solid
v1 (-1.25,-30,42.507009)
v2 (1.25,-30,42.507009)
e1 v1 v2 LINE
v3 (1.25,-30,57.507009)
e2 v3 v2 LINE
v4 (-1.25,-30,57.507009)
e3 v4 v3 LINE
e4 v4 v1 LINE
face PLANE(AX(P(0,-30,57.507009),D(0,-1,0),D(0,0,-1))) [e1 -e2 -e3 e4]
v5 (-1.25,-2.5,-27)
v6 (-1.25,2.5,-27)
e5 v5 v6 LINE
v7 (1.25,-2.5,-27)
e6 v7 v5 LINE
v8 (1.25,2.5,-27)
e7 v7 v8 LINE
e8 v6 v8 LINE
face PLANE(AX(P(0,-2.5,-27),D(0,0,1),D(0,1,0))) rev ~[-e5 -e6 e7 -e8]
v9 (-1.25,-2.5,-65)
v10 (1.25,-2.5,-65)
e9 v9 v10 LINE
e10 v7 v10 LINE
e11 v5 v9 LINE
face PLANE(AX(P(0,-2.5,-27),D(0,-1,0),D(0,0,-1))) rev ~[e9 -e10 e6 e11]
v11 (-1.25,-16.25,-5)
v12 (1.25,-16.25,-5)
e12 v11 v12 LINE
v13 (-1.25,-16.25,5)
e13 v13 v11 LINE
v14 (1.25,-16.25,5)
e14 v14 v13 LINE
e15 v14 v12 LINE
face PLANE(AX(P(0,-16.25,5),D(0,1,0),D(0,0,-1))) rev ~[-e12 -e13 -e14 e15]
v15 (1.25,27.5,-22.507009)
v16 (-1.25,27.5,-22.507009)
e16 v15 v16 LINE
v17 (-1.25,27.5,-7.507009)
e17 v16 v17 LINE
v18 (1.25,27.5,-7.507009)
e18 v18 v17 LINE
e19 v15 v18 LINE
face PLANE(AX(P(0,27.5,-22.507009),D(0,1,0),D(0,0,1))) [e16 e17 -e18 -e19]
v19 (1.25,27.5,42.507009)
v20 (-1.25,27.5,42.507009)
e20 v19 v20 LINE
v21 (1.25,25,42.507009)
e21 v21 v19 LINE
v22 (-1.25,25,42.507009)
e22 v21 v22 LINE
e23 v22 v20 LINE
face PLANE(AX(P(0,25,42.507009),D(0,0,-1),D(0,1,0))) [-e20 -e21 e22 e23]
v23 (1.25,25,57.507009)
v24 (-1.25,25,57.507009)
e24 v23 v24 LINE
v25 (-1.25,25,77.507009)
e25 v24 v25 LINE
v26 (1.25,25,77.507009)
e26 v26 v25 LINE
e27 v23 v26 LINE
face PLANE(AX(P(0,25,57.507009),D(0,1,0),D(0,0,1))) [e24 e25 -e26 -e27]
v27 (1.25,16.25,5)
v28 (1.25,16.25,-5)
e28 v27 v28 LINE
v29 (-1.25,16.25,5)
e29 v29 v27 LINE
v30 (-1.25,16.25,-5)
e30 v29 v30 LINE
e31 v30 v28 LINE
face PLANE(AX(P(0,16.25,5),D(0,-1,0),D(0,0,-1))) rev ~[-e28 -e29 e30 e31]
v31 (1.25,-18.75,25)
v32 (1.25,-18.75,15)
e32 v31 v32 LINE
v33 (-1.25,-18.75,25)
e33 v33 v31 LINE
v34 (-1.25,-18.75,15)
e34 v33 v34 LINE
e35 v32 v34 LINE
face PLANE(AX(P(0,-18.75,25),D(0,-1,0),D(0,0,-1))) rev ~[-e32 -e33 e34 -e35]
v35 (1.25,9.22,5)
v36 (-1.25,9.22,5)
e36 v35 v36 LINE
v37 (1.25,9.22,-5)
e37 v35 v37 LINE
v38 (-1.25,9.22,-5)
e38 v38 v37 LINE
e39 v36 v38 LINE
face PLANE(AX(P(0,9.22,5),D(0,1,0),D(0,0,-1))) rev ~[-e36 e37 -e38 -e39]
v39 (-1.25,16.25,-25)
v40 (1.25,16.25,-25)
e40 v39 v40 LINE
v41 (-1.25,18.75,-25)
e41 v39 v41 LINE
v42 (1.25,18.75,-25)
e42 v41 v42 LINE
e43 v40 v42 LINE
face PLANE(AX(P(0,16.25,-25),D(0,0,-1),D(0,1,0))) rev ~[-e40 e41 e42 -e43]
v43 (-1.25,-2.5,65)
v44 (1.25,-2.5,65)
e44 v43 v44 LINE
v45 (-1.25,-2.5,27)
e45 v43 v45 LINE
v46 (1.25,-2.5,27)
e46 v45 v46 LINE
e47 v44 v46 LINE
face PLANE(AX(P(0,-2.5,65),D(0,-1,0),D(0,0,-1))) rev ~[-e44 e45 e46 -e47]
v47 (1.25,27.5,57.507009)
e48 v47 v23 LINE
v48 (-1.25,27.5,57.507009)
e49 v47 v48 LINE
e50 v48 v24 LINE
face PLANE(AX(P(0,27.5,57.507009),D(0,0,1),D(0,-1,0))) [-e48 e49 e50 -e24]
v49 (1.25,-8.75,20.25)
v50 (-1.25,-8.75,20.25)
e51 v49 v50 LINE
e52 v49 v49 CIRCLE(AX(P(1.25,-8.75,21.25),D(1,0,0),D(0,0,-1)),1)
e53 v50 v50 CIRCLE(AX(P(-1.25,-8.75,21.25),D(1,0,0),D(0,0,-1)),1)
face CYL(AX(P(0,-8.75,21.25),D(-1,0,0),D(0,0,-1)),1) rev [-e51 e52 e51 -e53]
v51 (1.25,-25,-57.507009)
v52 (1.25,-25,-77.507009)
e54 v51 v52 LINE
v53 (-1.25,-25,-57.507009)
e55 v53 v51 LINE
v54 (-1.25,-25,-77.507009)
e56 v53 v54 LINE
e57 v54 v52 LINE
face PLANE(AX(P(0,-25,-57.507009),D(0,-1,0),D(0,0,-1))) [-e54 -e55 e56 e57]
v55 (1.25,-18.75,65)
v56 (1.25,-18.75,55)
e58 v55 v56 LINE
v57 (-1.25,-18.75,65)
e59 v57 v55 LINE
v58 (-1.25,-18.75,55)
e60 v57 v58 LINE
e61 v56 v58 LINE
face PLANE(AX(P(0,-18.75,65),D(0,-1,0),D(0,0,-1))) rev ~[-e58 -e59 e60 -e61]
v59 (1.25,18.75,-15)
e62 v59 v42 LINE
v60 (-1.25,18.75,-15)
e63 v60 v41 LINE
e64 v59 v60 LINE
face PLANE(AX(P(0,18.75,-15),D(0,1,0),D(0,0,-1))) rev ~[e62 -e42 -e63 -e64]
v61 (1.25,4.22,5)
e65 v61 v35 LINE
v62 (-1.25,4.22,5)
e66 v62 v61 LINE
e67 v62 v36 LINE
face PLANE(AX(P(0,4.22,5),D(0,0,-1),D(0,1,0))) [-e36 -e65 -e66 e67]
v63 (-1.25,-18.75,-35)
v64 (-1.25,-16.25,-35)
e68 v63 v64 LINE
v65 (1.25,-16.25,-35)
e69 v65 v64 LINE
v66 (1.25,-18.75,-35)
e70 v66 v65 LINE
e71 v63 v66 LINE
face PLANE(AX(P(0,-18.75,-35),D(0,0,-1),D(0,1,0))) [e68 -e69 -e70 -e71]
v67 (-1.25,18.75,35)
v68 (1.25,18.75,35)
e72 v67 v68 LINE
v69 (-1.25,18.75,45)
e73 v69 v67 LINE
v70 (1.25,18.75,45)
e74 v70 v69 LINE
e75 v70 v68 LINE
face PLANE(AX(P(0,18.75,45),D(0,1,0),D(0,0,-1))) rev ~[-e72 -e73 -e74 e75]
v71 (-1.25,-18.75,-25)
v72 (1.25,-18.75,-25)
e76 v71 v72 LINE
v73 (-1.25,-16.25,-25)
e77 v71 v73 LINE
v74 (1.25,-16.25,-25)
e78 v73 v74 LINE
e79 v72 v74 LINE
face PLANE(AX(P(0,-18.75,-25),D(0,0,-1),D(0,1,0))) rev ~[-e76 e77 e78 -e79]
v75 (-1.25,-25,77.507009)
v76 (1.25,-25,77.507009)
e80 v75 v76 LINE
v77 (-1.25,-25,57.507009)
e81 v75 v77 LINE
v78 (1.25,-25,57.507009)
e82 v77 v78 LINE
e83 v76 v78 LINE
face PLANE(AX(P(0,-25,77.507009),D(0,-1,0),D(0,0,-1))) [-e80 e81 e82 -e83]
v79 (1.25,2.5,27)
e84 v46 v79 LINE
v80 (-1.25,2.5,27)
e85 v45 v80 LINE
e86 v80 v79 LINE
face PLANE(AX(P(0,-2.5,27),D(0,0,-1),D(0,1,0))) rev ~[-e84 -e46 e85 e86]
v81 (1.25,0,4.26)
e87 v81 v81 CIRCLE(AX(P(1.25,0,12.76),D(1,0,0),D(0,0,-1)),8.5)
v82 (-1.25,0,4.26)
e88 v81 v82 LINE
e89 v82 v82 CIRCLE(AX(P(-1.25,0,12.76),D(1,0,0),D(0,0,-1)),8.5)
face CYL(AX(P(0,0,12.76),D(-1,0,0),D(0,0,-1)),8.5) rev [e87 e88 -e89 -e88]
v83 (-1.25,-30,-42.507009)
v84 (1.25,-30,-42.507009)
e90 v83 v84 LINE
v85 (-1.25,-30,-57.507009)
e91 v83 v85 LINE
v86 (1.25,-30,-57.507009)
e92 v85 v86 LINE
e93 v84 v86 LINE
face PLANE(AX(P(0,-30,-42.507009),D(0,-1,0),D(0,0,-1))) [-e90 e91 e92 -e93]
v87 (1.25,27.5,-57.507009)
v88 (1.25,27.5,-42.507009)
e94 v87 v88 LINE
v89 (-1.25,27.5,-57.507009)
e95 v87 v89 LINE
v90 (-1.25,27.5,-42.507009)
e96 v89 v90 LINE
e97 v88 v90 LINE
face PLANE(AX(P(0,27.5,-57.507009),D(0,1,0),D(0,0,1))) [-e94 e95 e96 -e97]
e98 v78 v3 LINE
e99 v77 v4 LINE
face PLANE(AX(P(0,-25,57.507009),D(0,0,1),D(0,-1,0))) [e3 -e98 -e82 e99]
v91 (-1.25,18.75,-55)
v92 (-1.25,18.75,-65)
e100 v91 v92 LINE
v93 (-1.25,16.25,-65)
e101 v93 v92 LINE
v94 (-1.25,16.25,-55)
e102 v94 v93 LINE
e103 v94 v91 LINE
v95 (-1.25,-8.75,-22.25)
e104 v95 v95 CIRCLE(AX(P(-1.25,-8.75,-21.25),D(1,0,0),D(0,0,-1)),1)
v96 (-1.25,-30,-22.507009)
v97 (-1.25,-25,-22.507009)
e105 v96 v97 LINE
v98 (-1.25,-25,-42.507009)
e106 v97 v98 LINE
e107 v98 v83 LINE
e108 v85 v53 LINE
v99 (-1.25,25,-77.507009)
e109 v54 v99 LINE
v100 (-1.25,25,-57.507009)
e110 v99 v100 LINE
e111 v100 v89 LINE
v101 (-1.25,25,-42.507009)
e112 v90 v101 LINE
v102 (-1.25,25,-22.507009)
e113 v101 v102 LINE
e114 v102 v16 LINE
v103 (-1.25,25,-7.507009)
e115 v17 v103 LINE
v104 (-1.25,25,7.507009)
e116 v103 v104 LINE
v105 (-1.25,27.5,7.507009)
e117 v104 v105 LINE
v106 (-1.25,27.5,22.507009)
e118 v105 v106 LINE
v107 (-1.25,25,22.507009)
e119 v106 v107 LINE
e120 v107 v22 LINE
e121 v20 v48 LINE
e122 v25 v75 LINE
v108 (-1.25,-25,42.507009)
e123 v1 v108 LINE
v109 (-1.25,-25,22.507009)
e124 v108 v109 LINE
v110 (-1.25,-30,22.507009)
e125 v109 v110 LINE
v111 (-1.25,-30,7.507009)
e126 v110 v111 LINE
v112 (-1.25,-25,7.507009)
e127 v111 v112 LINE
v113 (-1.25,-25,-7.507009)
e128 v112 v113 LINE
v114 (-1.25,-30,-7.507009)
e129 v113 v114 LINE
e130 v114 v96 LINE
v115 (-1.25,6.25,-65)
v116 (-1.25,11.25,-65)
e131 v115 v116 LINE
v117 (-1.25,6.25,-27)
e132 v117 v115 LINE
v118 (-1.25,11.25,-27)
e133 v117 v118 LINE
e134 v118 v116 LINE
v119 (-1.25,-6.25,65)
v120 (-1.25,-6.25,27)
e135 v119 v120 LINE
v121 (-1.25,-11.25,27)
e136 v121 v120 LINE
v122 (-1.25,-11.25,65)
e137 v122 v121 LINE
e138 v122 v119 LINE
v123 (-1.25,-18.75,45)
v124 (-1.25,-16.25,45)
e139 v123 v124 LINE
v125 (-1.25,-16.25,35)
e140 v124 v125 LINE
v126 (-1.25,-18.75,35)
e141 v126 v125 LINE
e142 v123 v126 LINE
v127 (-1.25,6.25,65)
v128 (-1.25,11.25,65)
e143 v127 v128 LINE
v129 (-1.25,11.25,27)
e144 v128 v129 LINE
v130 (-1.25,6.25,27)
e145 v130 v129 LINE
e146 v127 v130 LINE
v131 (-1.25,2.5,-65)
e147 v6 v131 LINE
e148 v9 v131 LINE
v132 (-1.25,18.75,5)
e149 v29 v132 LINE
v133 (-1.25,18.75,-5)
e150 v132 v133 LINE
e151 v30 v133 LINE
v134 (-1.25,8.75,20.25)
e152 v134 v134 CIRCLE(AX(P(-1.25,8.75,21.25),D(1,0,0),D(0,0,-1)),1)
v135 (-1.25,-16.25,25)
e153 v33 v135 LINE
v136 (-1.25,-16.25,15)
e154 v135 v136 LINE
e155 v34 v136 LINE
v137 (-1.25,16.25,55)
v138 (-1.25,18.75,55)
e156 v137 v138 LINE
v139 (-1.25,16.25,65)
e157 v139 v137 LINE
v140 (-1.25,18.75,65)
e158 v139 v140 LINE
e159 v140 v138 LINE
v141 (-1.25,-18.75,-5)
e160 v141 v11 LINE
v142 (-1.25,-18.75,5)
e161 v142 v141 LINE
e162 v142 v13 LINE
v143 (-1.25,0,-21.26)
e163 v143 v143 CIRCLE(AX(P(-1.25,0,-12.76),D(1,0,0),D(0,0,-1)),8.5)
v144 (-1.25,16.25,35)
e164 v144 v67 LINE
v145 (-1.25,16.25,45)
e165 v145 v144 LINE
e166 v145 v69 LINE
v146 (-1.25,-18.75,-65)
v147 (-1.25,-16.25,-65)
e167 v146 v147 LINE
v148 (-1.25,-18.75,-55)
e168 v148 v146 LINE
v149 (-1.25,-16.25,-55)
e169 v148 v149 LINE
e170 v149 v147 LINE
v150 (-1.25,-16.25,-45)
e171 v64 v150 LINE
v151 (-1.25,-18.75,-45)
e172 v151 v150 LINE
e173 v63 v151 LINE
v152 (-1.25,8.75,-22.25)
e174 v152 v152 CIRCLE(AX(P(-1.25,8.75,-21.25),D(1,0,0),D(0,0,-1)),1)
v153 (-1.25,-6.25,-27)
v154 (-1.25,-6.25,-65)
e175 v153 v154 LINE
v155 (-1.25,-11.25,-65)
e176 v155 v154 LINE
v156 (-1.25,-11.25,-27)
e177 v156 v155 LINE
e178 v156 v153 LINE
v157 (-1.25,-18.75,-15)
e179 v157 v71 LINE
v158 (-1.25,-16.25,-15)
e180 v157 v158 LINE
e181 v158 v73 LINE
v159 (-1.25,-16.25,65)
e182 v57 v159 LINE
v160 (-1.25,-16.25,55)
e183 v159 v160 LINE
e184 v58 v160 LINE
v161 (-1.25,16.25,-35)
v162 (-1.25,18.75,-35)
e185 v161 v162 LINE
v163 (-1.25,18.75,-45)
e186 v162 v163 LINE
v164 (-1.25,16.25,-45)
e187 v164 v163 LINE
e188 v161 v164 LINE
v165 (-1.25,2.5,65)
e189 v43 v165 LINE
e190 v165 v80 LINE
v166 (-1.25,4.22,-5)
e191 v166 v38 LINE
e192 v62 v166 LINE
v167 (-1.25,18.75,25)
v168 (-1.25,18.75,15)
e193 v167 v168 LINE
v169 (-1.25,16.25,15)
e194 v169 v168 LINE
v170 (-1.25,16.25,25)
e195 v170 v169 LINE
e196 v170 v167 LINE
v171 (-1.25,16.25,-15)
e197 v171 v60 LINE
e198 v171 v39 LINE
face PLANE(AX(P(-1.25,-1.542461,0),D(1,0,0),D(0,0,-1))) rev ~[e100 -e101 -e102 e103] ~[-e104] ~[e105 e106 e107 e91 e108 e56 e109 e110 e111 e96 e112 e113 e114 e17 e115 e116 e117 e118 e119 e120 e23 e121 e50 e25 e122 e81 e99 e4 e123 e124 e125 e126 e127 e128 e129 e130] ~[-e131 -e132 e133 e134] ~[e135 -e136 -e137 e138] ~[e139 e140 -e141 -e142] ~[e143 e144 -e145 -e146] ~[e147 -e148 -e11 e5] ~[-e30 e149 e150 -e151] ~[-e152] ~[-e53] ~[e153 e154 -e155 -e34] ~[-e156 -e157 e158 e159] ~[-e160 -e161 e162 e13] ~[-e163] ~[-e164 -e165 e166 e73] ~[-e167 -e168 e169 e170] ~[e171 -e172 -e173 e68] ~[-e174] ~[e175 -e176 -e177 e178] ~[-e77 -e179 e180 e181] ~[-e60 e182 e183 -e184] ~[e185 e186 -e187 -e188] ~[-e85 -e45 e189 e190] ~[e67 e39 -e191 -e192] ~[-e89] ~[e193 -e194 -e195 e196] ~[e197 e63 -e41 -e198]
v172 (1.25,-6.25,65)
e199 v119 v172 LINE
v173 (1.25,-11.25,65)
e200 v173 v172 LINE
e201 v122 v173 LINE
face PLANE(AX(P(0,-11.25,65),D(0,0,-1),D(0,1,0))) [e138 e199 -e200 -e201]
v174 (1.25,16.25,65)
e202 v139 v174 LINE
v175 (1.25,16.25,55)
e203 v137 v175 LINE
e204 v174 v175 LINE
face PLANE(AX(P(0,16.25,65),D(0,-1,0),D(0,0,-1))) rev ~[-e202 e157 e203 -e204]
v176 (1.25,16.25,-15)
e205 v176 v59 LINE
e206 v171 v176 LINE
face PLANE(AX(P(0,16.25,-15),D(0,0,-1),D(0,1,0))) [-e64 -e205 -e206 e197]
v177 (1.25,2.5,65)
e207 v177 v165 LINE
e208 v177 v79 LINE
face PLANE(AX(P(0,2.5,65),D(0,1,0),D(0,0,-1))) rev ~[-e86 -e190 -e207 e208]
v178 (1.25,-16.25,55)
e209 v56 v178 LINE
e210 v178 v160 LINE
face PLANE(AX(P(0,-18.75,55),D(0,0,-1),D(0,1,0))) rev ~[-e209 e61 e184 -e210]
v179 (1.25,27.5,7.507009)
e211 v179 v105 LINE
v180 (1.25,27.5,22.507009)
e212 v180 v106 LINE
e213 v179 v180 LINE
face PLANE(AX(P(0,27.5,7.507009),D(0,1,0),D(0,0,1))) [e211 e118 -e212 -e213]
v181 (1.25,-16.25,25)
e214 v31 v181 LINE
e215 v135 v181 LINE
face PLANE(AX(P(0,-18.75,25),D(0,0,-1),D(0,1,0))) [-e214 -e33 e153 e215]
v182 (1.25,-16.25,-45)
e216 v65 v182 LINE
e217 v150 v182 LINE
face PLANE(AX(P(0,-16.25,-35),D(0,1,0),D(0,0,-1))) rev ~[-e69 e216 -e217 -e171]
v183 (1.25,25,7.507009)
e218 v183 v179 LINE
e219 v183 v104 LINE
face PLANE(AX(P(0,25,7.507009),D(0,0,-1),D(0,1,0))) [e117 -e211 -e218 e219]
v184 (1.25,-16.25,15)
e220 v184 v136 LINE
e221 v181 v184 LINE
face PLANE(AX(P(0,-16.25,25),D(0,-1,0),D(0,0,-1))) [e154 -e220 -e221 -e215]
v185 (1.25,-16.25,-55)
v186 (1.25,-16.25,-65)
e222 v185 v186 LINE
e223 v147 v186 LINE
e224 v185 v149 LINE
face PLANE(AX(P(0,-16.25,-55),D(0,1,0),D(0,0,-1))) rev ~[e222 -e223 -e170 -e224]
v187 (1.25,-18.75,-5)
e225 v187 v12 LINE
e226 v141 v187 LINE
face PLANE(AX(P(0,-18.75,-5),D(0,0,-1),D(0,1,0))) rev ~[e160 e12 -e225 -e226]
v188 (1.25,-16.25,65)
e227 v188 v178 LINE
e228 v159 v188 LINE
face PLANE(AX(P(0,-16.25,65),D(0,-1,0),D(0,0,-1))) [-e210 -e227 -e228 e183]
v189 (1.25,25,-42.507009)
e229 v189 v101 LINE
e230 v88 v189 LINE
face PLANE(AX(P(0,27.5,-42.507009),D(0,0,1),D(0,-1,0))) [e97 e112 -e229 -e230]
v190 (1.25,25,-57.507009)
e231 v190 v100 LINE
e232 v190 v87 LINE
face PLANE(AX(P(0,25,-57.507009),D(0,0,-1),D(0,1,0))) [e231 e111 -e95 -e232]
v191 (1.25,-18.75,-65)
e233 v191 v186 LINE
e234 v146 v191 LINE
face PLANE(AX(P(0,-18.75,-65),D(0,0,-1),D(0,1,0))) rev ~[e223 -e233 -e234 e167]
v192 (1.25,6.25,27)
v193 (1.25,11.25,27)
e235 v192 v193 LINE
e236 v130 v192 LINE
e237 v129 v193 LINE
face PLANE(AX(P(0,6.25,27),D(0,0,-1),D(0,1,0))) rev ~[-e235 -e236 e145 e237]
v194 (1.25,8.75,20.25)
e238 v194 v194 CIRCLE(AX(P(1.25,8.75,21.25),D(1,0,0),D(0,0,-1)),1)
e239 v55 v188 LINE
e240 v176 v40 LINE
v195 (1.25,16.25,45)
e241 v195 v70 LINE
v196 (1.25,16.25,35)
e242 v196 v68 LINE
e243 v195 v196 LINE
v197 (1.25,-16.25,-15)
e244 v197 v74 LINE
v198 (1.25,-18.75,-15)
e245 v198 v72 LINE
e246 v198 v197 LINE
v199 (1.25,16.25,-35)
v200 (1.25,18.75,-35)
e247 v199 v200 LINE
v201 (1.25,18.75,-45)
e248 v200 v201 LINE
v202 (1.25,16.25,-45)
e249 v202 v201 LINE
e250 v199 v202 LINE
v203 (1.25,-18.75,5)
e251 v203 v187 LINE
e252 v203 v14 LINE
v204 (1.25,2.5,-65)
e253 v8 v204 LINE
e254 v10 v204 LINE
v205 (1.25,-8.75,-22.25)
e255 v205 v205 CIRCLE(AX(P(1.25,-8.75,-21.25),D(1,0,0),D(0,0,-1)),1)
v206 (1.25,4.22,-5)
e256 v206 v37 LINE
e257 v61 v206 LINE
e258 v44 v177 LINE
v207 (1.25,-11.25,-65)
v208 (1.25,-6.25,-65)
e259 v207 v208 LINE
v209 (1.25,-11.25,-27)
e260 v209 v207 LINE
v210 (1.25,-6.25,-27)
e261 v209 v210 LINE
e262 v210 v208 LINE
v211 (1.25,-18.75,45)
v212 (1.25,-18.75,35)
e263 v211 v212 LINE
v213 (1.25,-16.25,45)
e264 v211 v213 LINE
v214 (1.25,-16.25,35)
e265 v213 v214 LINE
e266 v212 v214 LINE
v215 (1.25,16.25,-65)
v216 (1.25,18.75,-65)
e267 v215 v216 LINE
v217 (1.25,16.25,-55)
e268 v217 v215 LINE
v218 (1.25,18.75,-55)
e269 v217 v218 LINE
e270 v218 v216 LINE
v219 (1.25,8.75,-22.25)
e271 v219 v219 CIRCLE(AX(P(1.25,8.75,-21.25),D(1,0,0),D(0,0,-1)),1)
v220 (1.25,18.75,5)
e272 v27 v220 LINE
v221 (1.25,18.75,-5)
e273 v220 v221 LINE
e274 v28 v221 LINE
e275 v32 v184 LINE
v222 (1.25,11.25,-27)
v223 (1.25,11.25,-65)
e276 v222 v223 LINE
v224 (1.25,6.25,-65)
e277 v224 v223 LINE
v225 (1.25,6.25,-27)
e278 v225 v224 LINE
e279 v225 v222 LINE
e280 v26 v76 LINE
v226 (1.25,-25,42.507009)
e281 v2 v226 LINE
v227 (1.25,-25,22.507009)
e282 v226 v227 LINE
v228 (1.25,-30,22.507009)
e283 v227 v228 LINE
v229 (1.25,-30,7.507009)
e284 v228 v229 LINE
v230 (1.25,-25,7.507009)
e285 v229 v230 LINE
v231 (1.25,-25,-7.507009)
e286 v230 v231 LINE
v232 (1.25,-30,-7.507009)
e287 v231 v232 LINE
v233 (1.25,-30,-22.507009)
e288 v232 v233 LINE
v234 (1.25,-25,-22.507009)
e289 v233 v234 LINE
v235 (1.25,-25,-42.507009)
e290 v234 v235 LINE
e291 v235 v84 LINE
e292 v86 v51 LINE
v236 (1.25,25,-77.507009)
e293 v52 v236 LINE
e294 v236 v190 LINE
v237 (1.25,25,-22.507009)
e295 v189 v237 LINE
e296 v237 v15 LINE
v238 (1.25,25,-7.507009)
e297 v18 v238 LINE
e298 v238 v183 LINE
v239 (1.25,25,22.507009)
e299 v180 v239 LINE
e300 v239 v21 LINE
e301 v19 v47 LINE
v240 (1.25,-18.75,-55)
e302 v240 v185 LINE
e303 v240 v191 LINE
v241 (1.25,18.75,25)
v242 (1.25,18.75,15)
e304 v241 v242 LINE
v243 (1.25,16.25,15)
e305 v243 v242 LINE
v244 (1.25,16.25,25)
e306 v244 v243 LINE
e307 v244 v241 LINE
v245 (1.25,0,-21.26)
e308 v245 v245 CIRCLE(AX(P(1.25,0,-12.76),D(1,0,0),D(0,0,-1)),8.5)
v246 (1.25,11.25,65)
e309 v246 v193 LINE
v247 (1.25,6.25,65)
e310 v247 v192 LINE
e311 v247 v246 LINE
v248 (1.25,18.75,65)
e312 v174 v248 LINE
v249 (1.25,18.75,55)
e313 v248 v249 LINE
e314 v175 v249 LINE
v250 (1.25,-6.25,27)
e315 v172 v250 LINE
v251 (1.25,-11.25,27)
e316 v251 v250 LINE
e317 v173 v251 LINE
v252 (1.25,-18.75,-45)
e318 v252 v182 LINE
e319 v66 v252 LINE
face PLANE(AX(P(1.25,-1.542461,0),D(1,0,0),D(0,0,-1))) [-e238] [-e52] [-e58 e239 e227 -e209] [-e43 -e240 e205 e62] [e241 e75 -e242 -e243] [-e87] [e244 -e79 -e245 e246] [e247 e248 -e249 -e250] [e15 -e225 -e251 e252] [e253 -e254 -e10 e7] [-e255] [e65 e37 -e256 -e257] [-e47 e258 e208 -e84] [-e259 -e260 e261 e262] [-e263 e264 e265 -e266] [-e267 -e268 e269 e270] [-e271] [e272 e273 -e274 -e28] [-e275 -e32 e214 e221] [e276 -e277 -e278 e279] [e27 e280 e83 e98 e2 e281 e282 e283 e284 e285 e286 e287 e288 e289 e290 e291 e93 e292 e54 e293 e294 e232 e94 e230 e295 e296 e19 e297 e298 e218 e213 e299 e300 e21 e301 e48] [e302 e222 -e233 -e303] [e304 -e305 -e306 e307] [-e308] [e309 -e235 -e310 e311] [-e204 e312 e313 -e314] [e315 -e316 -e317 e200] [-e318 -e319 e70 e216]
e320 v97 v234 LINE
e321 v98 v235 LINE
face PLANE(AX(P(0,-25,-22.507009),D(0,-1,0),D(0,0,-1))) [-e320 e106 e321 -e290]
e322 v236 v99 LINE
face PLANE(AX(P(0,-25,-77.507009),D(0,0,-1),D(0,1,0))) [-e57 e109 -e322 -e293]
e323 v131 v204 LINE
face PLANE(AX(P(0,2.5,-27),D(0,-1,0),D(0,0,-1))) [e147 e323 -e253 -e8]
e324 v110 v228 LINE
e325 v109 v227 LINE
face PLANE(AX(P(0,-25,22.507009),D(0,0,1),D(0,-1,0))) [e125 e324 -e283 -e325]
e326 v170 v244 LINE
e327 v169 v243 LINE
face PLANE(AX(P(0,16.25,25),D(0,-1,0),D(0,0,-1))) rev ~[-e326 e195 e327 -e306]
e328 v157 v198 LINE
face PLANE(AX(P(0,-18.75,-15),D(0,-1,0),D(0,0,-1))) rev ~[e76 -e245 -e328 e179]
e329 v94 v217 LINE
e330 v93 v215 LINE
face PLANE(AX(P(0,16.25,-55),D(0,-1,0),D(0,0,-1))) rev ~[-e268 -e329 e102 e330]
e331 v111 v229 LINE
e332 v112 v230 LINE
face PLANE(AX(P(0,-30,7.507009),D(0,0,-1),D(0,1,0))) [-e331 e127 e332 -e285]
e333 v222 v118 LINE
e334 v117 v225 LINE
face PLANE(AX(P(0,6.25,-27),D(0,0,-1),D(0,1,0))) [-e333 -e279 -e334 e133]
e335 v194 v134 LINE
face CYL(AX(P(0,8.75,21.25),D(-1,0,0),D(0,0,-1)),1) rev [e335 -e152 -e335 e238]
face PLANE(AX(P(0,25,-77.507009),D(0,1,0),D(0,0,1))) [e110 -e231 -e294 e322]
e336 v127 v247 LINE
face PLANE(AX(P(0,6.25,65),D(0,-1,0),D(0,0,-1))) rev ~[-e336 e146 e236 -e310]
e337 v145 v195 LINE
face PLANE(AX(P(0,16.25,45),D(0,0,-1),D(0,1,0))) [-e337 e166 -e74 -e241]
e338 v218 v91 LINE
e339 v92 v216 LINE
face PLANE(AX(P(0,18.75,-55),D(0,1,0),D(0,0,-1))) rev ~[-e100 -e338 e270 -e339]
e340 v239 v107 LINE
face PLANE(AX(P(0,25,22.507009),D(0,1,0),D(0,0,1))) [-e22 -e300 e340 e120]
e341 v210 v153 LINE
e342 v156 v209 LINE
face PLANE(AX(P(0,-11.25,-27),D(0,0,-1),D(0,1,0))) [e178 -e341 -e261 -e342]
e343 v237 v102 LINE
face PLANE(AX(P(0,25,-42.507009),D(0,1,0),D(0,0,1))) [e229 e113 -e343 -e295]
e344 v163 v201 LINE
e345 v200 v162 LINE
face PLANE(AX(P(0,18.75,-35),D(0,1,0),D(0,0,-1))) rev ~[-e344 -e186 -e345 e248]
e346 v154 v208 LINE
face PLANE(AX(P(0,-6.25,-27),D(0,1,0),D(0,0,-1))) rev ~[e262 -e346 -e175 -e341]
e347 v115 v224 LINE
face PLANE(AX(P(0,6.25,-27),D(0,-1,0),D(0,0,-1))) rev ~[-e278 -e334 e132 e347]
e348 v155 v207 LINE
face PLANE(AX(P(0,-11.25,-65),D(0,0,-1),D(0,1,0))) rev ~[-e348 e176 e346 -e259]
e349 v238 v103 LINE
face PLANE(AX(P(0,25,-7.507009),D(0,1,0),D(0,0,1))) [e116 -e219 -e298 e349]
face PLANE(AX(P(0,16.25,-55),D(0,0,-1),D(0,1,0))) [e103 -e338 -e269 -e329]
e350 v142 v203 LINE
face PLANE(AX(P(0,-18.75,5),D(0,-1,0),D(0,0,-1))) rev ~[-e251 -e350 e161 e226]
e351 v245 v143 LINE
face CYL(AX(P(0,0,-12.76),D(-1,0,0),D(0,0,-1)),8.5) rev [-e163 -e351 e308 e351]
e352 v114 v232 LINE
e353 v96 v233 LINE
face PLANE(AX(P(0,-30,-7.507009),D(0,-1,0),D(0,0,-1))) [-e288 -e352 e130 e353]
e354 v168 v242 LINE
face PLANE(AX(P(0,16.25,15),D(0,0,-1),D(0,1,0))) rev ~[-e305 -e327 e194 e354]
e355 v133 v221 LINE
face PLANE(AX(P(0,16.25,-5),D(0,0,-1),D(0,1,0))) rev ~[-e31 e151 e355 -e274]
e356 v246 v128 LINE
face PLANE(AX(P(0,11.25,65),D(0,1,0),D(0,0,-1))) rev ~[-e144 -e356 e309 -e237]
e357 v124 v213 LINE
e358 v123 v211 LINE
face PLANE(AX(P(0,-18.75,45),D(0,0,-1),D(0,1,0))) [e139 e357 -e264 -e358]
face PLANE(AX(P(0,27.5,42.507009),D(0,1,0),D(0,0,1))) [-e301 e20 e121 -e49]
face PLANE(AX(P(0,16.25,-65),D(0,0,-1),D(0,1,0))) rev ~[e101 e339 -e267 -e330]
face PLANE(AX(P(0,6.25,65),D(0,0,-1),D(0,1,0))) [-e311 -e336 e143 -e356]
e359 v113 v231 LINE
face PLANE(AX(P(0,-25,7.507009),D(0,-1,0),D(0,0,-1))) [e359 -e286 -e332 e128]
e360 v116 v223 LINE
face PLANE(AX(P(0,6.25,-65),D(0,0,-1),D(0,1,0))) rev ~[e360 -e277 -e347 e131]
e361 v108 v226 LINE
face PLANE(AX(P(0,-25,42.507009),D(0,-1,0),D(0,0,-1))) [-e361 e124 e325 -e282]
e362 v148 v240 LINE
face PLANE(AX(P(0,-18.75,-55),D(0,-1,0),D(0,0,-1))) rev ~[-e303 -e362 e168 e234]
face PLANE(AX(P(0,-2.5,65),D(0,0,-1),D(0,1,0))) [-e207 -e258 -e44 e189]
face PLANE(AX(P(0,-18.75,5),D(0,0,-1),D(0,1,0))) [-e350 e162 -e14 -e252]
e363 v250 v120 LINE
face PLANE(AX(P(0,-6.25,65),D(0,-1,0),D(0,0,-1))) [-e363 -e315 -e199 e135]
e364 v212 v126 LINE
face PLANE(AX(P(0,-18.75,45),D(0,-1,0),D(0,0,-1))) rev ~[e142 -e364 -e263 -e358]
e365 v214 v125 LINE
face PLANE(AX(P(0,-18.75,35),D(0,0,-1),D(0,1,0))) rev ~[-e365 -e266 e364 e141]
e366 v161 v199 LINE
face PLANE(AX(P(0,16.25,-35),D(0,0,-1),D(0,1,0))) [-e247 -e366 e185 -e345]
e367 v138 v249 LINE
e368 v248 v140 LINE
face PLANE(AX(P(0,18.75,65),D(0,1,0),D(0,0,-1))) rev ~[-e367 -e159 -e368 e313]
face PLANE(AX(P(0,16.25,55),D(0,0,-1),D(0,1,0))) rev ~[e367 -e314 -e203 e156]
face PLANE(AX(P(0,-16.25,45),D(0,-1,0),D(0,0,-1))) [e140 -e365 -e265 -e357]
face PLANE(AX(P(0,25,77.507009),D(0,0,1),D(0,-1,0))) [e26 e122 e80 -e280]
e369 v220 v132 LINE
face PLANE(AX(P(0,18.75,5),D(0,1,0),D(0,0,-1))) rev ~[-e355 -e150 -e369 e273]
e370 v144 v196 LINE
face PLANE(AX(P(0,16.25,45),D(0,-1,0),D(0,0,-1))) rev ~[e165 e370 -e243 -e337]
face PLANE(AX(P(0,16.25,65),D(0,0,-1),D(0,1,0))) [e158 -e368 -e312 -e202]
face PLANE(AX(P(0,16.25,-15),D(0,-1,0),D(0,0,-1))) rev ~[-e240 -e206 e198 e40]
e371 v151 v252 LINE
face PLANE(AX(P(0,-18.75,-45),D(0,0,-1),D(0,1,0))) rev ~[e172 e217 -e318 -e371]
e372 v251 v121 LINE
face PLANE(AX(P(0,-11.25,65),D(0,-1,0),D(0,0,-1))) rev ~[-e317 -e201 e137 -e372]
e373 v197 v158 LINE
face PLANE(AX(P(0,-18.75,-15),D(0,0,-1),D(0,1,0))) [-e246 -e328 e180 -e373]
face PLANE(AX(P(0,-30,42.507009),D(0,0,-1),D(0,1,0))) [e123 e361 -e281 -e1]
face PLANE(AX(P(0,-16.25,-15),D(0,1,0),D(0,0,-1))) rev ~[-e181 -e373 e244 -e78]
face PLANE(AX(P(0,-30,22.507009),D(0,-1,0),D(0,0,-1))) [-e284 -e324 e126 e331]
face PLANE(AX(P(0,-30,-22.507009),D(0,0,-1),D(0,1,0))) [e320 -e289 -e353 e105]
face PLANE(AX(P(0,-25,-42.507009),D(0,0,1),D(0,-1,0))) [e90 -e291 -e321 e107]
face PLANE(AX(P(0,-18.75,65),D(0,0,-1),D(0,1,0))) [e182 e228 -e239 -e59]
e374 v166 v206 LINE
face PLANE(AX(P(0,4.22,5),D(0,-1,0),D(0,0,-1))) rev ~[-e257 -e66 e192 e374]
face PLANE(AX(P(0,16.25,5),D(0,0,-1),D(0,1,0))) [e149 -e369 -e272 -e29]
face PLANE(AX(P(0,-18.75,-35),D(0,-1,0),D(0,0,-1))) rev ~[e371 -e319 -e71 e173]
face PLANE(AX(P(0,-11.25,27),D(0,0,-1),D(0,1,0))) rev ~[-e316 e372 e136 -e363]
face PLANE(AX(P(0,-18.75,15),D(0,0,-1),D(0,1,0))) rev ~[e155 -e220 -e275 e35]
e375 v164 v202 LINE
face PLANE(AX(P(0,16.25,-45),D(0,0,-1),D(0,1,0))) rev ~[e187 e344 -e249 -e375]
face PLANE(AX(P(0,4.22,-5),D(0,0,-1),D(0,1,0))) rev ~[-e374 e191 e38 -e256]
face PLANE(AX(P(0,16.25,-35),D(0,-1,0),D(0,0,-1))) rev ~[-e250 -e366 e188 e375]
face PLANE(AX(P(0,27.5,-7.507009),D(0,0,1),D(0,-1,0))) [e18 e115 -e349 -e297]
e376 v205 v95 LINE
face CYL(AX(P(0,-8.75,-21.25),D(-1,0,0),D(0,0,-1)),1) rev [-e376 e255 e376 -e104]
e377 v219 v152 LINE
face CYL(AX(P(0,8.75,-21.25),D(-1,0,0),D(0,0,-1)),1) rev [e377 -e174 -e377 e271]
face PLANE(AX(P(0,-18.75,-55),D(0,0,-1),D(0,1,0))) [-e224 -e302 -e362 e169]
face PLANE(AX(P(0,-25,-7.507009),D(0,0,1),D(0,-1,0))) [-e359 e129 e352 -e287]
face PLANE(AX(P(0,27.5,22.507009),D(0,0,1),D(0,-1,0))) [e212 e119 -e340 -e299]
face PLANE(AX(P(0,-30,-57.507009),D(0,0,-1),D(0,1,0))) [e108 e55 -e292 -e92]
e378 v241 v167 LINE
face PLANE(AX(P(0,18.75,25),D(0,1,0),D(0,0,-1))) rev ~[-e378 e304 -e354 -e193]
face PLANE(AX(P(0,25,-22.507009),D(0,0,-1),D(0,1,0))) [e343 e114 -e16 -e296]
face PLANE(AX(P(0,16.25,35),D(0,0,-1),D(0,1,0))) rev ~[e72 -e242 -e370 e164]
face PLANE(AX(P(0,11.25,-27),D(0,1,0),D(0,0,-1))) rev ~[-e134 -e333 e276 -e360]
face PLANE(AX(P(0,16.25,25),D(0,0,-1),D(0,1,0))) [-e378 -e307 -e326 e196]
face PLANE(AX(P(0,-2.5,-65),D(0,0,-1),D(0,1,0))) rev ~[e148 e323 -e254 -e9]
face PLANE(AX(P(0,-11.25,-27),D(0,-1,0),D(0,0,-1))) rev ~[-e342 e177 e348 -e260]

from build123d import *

# Parameters (mm, degrees)
SKETCH1_R           = 1
SKETCH1_R_2         = 8.5
SKETCH1_W           = 10
SKETCH1_H           = 2.5
SKETCH1_W_2         = 38
SKETCH1_H_2         = 5
BOSS_EXTRUDE1_DEPTH = 1.25


with BuildPart() as part:
    # Sketch1 → Boss-Extrude1 (new, symmetric)
    with BuildSketch(Plane(origin=(0, 0, 0), x_dir=(0, 0, -1), z_dir=(1, 0, 0))):
        Polygon((-77.50700933, 25), (-77.50700933, -25), (-57.50700933, -25), (-57.50700933, -30), (-42.50700933, -30), (-42.50700933, -25), (-22.50700933, -25), (-22.50700933, -30), (-7.50700933, -30), (-7.50700933, -25), (7.50700933, -25), (7.50700933, -30), (22.50700933, -30), (22.50700933, -25), (42.50700933, -25), (42.50700933, -30), (57.50700933, -30), (57.50700933, -25), (77.50700933, -25), (77.50700933, 25), (57.50700933, 25), (57.50700933, 27.5), (42.50700933, 27.5), (42.50700933, 25), (22.50700933, 25), (22.50700933, 27.5), (7.50700933, 27.5), (7.50700933, 25), (-7.50700933, 25), (-7.50700933, 27.5), (-22.50700933, 27.5), (-22.50700933, 25), (-42.50700933, 25), (-42.50700933, 27.5), (-57.50700933, 27.5), (-57.50700933, 25), align=None)
        with Locations((-21.25, 8.75)):
            Circle(SKETCH1_R, mode=Mode.SUBTRACT)
        with Locations((-12.76, 0)):
            Circle(SKETCH1_R_2, mode=Mode.SUBTRACT)
        with Locations((-21.25, -8.75)):
            Circle(SKETCH1_R, mode=Mode.SUBTRACT)
        with Locations((12.76, 0)):
            Circle(SKETCH1_R_2, mode=Mode.SUBTRACT)
        with Locations((21.25, -8.75)):
            Circle(SKETCH1_R, mode=Mode.SUBTRACT)
        with Locations((21.25, 8.75)):
            Circle(SKETCH1_R, mode=Mode.SUBTRACT)
        with Locations((0, 17.5)):
            Rectangle(SKETCH1_W, SKETCH1_H, mode=Mode.SUBTRACT)
        with Locations((-46, -8.75)):
            Rectangle(SKETCH1_W_2, SKETCH1_H_2, mode=Mode.SUBTRACT)
        with Locations((0, -17.5)):
            Rectangle(SKETCH1_W, SKETCH1_H, mode=Mode.SUBTRACT)
        with Locations((-20, -17.5)):
            Rectangle(SKETCH1_W, SKETCH1_H, mode=Mode.SUBTRACT)
        with Locations((-20, 17.5)):
            Rectangle(SKETCH1_W, SKETCH1_H, mode=Mode.SUBTRACT)
        with Locations((-40, -17.5)):
            Rectangle(SKETCH1_W, SKETCH1_H, mode=Mode.SUBTRACT)
        with Locations((-40, 17.5)):
            Rectangle(SKETCH1_W, SKETCH1_H, mode=Mode.SUBTRACT)
        with Locations((-60, -17.5)):
            Rectangle(SKETCH1_W, SKETCH1_H, mode=Mode.SUBTRACT)
        with Locations((-60, 17.5)):
            Rectangle(SKETCH1_W, SKETCH1_H, mode=Mode.SUBTRACT)
        with Locations((20, -17.5)):
            Rectangle(SKETCH1_W, SKETCH1_H, mode=Mode.SUBTRACT)
        with Locations((20, 17.5)):
            Rectangle(SKETCH1_W, SKETCH1_H, mode=Mode.SUBTRACT)
        with Locations((40, -17.5)):
            Rectangle(SKETCH1_W, SKETCH1_H, mode=Mode.SUBTRACT)
        with Locations((40, 17.5)):
            Rectangle(SKETCH1_W, SKETCH1_H, mode=Mode.SUBTRACT)
        with Locations((60, -17.5)):
            Rectangle(SKETCH1_W, SKETCH1_H, mode=Mode.SUBTRACT)
        with Locations((60, 17.5)):
            Rectangle(SKETCH1_W, SKETCH1_H, mode=Mode.SUBTRACT)
        with Locations((46, 8.75)):
            Rectangle(SKETCH1_W_2, SKETCH1_H_2, mode=Mode.SUBTRACT)
        with Locations((-46, 0)):
            Rectangle(SKETCH1_W_2, SKETCH1_H_2, mode=Mode.SUBTRACT)
        with Locations((-46, 8.75)):
            Rectangle(SKETCH1_W_2, SKETCH1_H_2, mode=Mode.SUBTRACT)
        with Locations((46, -8.75)):
            Rectangle(SKETCH1_W_2, SKETCH1_H_2, mode=Mode.SUBTRACT)
        with Locations((0, 6.72)):
            Rectangle(SKETCH1_W, SKETCH1_H_2, mode=Mode.SUBTRACT)
        with Locations((46, 0)):
            Rectangle(SKETCH1_W_2, SKETCH1_H_2, mode=Mode.SUBTRACT)
    extrude(amount=BOSS_EXTRUDE1_DEPTH, both=True)


solid = part.part
